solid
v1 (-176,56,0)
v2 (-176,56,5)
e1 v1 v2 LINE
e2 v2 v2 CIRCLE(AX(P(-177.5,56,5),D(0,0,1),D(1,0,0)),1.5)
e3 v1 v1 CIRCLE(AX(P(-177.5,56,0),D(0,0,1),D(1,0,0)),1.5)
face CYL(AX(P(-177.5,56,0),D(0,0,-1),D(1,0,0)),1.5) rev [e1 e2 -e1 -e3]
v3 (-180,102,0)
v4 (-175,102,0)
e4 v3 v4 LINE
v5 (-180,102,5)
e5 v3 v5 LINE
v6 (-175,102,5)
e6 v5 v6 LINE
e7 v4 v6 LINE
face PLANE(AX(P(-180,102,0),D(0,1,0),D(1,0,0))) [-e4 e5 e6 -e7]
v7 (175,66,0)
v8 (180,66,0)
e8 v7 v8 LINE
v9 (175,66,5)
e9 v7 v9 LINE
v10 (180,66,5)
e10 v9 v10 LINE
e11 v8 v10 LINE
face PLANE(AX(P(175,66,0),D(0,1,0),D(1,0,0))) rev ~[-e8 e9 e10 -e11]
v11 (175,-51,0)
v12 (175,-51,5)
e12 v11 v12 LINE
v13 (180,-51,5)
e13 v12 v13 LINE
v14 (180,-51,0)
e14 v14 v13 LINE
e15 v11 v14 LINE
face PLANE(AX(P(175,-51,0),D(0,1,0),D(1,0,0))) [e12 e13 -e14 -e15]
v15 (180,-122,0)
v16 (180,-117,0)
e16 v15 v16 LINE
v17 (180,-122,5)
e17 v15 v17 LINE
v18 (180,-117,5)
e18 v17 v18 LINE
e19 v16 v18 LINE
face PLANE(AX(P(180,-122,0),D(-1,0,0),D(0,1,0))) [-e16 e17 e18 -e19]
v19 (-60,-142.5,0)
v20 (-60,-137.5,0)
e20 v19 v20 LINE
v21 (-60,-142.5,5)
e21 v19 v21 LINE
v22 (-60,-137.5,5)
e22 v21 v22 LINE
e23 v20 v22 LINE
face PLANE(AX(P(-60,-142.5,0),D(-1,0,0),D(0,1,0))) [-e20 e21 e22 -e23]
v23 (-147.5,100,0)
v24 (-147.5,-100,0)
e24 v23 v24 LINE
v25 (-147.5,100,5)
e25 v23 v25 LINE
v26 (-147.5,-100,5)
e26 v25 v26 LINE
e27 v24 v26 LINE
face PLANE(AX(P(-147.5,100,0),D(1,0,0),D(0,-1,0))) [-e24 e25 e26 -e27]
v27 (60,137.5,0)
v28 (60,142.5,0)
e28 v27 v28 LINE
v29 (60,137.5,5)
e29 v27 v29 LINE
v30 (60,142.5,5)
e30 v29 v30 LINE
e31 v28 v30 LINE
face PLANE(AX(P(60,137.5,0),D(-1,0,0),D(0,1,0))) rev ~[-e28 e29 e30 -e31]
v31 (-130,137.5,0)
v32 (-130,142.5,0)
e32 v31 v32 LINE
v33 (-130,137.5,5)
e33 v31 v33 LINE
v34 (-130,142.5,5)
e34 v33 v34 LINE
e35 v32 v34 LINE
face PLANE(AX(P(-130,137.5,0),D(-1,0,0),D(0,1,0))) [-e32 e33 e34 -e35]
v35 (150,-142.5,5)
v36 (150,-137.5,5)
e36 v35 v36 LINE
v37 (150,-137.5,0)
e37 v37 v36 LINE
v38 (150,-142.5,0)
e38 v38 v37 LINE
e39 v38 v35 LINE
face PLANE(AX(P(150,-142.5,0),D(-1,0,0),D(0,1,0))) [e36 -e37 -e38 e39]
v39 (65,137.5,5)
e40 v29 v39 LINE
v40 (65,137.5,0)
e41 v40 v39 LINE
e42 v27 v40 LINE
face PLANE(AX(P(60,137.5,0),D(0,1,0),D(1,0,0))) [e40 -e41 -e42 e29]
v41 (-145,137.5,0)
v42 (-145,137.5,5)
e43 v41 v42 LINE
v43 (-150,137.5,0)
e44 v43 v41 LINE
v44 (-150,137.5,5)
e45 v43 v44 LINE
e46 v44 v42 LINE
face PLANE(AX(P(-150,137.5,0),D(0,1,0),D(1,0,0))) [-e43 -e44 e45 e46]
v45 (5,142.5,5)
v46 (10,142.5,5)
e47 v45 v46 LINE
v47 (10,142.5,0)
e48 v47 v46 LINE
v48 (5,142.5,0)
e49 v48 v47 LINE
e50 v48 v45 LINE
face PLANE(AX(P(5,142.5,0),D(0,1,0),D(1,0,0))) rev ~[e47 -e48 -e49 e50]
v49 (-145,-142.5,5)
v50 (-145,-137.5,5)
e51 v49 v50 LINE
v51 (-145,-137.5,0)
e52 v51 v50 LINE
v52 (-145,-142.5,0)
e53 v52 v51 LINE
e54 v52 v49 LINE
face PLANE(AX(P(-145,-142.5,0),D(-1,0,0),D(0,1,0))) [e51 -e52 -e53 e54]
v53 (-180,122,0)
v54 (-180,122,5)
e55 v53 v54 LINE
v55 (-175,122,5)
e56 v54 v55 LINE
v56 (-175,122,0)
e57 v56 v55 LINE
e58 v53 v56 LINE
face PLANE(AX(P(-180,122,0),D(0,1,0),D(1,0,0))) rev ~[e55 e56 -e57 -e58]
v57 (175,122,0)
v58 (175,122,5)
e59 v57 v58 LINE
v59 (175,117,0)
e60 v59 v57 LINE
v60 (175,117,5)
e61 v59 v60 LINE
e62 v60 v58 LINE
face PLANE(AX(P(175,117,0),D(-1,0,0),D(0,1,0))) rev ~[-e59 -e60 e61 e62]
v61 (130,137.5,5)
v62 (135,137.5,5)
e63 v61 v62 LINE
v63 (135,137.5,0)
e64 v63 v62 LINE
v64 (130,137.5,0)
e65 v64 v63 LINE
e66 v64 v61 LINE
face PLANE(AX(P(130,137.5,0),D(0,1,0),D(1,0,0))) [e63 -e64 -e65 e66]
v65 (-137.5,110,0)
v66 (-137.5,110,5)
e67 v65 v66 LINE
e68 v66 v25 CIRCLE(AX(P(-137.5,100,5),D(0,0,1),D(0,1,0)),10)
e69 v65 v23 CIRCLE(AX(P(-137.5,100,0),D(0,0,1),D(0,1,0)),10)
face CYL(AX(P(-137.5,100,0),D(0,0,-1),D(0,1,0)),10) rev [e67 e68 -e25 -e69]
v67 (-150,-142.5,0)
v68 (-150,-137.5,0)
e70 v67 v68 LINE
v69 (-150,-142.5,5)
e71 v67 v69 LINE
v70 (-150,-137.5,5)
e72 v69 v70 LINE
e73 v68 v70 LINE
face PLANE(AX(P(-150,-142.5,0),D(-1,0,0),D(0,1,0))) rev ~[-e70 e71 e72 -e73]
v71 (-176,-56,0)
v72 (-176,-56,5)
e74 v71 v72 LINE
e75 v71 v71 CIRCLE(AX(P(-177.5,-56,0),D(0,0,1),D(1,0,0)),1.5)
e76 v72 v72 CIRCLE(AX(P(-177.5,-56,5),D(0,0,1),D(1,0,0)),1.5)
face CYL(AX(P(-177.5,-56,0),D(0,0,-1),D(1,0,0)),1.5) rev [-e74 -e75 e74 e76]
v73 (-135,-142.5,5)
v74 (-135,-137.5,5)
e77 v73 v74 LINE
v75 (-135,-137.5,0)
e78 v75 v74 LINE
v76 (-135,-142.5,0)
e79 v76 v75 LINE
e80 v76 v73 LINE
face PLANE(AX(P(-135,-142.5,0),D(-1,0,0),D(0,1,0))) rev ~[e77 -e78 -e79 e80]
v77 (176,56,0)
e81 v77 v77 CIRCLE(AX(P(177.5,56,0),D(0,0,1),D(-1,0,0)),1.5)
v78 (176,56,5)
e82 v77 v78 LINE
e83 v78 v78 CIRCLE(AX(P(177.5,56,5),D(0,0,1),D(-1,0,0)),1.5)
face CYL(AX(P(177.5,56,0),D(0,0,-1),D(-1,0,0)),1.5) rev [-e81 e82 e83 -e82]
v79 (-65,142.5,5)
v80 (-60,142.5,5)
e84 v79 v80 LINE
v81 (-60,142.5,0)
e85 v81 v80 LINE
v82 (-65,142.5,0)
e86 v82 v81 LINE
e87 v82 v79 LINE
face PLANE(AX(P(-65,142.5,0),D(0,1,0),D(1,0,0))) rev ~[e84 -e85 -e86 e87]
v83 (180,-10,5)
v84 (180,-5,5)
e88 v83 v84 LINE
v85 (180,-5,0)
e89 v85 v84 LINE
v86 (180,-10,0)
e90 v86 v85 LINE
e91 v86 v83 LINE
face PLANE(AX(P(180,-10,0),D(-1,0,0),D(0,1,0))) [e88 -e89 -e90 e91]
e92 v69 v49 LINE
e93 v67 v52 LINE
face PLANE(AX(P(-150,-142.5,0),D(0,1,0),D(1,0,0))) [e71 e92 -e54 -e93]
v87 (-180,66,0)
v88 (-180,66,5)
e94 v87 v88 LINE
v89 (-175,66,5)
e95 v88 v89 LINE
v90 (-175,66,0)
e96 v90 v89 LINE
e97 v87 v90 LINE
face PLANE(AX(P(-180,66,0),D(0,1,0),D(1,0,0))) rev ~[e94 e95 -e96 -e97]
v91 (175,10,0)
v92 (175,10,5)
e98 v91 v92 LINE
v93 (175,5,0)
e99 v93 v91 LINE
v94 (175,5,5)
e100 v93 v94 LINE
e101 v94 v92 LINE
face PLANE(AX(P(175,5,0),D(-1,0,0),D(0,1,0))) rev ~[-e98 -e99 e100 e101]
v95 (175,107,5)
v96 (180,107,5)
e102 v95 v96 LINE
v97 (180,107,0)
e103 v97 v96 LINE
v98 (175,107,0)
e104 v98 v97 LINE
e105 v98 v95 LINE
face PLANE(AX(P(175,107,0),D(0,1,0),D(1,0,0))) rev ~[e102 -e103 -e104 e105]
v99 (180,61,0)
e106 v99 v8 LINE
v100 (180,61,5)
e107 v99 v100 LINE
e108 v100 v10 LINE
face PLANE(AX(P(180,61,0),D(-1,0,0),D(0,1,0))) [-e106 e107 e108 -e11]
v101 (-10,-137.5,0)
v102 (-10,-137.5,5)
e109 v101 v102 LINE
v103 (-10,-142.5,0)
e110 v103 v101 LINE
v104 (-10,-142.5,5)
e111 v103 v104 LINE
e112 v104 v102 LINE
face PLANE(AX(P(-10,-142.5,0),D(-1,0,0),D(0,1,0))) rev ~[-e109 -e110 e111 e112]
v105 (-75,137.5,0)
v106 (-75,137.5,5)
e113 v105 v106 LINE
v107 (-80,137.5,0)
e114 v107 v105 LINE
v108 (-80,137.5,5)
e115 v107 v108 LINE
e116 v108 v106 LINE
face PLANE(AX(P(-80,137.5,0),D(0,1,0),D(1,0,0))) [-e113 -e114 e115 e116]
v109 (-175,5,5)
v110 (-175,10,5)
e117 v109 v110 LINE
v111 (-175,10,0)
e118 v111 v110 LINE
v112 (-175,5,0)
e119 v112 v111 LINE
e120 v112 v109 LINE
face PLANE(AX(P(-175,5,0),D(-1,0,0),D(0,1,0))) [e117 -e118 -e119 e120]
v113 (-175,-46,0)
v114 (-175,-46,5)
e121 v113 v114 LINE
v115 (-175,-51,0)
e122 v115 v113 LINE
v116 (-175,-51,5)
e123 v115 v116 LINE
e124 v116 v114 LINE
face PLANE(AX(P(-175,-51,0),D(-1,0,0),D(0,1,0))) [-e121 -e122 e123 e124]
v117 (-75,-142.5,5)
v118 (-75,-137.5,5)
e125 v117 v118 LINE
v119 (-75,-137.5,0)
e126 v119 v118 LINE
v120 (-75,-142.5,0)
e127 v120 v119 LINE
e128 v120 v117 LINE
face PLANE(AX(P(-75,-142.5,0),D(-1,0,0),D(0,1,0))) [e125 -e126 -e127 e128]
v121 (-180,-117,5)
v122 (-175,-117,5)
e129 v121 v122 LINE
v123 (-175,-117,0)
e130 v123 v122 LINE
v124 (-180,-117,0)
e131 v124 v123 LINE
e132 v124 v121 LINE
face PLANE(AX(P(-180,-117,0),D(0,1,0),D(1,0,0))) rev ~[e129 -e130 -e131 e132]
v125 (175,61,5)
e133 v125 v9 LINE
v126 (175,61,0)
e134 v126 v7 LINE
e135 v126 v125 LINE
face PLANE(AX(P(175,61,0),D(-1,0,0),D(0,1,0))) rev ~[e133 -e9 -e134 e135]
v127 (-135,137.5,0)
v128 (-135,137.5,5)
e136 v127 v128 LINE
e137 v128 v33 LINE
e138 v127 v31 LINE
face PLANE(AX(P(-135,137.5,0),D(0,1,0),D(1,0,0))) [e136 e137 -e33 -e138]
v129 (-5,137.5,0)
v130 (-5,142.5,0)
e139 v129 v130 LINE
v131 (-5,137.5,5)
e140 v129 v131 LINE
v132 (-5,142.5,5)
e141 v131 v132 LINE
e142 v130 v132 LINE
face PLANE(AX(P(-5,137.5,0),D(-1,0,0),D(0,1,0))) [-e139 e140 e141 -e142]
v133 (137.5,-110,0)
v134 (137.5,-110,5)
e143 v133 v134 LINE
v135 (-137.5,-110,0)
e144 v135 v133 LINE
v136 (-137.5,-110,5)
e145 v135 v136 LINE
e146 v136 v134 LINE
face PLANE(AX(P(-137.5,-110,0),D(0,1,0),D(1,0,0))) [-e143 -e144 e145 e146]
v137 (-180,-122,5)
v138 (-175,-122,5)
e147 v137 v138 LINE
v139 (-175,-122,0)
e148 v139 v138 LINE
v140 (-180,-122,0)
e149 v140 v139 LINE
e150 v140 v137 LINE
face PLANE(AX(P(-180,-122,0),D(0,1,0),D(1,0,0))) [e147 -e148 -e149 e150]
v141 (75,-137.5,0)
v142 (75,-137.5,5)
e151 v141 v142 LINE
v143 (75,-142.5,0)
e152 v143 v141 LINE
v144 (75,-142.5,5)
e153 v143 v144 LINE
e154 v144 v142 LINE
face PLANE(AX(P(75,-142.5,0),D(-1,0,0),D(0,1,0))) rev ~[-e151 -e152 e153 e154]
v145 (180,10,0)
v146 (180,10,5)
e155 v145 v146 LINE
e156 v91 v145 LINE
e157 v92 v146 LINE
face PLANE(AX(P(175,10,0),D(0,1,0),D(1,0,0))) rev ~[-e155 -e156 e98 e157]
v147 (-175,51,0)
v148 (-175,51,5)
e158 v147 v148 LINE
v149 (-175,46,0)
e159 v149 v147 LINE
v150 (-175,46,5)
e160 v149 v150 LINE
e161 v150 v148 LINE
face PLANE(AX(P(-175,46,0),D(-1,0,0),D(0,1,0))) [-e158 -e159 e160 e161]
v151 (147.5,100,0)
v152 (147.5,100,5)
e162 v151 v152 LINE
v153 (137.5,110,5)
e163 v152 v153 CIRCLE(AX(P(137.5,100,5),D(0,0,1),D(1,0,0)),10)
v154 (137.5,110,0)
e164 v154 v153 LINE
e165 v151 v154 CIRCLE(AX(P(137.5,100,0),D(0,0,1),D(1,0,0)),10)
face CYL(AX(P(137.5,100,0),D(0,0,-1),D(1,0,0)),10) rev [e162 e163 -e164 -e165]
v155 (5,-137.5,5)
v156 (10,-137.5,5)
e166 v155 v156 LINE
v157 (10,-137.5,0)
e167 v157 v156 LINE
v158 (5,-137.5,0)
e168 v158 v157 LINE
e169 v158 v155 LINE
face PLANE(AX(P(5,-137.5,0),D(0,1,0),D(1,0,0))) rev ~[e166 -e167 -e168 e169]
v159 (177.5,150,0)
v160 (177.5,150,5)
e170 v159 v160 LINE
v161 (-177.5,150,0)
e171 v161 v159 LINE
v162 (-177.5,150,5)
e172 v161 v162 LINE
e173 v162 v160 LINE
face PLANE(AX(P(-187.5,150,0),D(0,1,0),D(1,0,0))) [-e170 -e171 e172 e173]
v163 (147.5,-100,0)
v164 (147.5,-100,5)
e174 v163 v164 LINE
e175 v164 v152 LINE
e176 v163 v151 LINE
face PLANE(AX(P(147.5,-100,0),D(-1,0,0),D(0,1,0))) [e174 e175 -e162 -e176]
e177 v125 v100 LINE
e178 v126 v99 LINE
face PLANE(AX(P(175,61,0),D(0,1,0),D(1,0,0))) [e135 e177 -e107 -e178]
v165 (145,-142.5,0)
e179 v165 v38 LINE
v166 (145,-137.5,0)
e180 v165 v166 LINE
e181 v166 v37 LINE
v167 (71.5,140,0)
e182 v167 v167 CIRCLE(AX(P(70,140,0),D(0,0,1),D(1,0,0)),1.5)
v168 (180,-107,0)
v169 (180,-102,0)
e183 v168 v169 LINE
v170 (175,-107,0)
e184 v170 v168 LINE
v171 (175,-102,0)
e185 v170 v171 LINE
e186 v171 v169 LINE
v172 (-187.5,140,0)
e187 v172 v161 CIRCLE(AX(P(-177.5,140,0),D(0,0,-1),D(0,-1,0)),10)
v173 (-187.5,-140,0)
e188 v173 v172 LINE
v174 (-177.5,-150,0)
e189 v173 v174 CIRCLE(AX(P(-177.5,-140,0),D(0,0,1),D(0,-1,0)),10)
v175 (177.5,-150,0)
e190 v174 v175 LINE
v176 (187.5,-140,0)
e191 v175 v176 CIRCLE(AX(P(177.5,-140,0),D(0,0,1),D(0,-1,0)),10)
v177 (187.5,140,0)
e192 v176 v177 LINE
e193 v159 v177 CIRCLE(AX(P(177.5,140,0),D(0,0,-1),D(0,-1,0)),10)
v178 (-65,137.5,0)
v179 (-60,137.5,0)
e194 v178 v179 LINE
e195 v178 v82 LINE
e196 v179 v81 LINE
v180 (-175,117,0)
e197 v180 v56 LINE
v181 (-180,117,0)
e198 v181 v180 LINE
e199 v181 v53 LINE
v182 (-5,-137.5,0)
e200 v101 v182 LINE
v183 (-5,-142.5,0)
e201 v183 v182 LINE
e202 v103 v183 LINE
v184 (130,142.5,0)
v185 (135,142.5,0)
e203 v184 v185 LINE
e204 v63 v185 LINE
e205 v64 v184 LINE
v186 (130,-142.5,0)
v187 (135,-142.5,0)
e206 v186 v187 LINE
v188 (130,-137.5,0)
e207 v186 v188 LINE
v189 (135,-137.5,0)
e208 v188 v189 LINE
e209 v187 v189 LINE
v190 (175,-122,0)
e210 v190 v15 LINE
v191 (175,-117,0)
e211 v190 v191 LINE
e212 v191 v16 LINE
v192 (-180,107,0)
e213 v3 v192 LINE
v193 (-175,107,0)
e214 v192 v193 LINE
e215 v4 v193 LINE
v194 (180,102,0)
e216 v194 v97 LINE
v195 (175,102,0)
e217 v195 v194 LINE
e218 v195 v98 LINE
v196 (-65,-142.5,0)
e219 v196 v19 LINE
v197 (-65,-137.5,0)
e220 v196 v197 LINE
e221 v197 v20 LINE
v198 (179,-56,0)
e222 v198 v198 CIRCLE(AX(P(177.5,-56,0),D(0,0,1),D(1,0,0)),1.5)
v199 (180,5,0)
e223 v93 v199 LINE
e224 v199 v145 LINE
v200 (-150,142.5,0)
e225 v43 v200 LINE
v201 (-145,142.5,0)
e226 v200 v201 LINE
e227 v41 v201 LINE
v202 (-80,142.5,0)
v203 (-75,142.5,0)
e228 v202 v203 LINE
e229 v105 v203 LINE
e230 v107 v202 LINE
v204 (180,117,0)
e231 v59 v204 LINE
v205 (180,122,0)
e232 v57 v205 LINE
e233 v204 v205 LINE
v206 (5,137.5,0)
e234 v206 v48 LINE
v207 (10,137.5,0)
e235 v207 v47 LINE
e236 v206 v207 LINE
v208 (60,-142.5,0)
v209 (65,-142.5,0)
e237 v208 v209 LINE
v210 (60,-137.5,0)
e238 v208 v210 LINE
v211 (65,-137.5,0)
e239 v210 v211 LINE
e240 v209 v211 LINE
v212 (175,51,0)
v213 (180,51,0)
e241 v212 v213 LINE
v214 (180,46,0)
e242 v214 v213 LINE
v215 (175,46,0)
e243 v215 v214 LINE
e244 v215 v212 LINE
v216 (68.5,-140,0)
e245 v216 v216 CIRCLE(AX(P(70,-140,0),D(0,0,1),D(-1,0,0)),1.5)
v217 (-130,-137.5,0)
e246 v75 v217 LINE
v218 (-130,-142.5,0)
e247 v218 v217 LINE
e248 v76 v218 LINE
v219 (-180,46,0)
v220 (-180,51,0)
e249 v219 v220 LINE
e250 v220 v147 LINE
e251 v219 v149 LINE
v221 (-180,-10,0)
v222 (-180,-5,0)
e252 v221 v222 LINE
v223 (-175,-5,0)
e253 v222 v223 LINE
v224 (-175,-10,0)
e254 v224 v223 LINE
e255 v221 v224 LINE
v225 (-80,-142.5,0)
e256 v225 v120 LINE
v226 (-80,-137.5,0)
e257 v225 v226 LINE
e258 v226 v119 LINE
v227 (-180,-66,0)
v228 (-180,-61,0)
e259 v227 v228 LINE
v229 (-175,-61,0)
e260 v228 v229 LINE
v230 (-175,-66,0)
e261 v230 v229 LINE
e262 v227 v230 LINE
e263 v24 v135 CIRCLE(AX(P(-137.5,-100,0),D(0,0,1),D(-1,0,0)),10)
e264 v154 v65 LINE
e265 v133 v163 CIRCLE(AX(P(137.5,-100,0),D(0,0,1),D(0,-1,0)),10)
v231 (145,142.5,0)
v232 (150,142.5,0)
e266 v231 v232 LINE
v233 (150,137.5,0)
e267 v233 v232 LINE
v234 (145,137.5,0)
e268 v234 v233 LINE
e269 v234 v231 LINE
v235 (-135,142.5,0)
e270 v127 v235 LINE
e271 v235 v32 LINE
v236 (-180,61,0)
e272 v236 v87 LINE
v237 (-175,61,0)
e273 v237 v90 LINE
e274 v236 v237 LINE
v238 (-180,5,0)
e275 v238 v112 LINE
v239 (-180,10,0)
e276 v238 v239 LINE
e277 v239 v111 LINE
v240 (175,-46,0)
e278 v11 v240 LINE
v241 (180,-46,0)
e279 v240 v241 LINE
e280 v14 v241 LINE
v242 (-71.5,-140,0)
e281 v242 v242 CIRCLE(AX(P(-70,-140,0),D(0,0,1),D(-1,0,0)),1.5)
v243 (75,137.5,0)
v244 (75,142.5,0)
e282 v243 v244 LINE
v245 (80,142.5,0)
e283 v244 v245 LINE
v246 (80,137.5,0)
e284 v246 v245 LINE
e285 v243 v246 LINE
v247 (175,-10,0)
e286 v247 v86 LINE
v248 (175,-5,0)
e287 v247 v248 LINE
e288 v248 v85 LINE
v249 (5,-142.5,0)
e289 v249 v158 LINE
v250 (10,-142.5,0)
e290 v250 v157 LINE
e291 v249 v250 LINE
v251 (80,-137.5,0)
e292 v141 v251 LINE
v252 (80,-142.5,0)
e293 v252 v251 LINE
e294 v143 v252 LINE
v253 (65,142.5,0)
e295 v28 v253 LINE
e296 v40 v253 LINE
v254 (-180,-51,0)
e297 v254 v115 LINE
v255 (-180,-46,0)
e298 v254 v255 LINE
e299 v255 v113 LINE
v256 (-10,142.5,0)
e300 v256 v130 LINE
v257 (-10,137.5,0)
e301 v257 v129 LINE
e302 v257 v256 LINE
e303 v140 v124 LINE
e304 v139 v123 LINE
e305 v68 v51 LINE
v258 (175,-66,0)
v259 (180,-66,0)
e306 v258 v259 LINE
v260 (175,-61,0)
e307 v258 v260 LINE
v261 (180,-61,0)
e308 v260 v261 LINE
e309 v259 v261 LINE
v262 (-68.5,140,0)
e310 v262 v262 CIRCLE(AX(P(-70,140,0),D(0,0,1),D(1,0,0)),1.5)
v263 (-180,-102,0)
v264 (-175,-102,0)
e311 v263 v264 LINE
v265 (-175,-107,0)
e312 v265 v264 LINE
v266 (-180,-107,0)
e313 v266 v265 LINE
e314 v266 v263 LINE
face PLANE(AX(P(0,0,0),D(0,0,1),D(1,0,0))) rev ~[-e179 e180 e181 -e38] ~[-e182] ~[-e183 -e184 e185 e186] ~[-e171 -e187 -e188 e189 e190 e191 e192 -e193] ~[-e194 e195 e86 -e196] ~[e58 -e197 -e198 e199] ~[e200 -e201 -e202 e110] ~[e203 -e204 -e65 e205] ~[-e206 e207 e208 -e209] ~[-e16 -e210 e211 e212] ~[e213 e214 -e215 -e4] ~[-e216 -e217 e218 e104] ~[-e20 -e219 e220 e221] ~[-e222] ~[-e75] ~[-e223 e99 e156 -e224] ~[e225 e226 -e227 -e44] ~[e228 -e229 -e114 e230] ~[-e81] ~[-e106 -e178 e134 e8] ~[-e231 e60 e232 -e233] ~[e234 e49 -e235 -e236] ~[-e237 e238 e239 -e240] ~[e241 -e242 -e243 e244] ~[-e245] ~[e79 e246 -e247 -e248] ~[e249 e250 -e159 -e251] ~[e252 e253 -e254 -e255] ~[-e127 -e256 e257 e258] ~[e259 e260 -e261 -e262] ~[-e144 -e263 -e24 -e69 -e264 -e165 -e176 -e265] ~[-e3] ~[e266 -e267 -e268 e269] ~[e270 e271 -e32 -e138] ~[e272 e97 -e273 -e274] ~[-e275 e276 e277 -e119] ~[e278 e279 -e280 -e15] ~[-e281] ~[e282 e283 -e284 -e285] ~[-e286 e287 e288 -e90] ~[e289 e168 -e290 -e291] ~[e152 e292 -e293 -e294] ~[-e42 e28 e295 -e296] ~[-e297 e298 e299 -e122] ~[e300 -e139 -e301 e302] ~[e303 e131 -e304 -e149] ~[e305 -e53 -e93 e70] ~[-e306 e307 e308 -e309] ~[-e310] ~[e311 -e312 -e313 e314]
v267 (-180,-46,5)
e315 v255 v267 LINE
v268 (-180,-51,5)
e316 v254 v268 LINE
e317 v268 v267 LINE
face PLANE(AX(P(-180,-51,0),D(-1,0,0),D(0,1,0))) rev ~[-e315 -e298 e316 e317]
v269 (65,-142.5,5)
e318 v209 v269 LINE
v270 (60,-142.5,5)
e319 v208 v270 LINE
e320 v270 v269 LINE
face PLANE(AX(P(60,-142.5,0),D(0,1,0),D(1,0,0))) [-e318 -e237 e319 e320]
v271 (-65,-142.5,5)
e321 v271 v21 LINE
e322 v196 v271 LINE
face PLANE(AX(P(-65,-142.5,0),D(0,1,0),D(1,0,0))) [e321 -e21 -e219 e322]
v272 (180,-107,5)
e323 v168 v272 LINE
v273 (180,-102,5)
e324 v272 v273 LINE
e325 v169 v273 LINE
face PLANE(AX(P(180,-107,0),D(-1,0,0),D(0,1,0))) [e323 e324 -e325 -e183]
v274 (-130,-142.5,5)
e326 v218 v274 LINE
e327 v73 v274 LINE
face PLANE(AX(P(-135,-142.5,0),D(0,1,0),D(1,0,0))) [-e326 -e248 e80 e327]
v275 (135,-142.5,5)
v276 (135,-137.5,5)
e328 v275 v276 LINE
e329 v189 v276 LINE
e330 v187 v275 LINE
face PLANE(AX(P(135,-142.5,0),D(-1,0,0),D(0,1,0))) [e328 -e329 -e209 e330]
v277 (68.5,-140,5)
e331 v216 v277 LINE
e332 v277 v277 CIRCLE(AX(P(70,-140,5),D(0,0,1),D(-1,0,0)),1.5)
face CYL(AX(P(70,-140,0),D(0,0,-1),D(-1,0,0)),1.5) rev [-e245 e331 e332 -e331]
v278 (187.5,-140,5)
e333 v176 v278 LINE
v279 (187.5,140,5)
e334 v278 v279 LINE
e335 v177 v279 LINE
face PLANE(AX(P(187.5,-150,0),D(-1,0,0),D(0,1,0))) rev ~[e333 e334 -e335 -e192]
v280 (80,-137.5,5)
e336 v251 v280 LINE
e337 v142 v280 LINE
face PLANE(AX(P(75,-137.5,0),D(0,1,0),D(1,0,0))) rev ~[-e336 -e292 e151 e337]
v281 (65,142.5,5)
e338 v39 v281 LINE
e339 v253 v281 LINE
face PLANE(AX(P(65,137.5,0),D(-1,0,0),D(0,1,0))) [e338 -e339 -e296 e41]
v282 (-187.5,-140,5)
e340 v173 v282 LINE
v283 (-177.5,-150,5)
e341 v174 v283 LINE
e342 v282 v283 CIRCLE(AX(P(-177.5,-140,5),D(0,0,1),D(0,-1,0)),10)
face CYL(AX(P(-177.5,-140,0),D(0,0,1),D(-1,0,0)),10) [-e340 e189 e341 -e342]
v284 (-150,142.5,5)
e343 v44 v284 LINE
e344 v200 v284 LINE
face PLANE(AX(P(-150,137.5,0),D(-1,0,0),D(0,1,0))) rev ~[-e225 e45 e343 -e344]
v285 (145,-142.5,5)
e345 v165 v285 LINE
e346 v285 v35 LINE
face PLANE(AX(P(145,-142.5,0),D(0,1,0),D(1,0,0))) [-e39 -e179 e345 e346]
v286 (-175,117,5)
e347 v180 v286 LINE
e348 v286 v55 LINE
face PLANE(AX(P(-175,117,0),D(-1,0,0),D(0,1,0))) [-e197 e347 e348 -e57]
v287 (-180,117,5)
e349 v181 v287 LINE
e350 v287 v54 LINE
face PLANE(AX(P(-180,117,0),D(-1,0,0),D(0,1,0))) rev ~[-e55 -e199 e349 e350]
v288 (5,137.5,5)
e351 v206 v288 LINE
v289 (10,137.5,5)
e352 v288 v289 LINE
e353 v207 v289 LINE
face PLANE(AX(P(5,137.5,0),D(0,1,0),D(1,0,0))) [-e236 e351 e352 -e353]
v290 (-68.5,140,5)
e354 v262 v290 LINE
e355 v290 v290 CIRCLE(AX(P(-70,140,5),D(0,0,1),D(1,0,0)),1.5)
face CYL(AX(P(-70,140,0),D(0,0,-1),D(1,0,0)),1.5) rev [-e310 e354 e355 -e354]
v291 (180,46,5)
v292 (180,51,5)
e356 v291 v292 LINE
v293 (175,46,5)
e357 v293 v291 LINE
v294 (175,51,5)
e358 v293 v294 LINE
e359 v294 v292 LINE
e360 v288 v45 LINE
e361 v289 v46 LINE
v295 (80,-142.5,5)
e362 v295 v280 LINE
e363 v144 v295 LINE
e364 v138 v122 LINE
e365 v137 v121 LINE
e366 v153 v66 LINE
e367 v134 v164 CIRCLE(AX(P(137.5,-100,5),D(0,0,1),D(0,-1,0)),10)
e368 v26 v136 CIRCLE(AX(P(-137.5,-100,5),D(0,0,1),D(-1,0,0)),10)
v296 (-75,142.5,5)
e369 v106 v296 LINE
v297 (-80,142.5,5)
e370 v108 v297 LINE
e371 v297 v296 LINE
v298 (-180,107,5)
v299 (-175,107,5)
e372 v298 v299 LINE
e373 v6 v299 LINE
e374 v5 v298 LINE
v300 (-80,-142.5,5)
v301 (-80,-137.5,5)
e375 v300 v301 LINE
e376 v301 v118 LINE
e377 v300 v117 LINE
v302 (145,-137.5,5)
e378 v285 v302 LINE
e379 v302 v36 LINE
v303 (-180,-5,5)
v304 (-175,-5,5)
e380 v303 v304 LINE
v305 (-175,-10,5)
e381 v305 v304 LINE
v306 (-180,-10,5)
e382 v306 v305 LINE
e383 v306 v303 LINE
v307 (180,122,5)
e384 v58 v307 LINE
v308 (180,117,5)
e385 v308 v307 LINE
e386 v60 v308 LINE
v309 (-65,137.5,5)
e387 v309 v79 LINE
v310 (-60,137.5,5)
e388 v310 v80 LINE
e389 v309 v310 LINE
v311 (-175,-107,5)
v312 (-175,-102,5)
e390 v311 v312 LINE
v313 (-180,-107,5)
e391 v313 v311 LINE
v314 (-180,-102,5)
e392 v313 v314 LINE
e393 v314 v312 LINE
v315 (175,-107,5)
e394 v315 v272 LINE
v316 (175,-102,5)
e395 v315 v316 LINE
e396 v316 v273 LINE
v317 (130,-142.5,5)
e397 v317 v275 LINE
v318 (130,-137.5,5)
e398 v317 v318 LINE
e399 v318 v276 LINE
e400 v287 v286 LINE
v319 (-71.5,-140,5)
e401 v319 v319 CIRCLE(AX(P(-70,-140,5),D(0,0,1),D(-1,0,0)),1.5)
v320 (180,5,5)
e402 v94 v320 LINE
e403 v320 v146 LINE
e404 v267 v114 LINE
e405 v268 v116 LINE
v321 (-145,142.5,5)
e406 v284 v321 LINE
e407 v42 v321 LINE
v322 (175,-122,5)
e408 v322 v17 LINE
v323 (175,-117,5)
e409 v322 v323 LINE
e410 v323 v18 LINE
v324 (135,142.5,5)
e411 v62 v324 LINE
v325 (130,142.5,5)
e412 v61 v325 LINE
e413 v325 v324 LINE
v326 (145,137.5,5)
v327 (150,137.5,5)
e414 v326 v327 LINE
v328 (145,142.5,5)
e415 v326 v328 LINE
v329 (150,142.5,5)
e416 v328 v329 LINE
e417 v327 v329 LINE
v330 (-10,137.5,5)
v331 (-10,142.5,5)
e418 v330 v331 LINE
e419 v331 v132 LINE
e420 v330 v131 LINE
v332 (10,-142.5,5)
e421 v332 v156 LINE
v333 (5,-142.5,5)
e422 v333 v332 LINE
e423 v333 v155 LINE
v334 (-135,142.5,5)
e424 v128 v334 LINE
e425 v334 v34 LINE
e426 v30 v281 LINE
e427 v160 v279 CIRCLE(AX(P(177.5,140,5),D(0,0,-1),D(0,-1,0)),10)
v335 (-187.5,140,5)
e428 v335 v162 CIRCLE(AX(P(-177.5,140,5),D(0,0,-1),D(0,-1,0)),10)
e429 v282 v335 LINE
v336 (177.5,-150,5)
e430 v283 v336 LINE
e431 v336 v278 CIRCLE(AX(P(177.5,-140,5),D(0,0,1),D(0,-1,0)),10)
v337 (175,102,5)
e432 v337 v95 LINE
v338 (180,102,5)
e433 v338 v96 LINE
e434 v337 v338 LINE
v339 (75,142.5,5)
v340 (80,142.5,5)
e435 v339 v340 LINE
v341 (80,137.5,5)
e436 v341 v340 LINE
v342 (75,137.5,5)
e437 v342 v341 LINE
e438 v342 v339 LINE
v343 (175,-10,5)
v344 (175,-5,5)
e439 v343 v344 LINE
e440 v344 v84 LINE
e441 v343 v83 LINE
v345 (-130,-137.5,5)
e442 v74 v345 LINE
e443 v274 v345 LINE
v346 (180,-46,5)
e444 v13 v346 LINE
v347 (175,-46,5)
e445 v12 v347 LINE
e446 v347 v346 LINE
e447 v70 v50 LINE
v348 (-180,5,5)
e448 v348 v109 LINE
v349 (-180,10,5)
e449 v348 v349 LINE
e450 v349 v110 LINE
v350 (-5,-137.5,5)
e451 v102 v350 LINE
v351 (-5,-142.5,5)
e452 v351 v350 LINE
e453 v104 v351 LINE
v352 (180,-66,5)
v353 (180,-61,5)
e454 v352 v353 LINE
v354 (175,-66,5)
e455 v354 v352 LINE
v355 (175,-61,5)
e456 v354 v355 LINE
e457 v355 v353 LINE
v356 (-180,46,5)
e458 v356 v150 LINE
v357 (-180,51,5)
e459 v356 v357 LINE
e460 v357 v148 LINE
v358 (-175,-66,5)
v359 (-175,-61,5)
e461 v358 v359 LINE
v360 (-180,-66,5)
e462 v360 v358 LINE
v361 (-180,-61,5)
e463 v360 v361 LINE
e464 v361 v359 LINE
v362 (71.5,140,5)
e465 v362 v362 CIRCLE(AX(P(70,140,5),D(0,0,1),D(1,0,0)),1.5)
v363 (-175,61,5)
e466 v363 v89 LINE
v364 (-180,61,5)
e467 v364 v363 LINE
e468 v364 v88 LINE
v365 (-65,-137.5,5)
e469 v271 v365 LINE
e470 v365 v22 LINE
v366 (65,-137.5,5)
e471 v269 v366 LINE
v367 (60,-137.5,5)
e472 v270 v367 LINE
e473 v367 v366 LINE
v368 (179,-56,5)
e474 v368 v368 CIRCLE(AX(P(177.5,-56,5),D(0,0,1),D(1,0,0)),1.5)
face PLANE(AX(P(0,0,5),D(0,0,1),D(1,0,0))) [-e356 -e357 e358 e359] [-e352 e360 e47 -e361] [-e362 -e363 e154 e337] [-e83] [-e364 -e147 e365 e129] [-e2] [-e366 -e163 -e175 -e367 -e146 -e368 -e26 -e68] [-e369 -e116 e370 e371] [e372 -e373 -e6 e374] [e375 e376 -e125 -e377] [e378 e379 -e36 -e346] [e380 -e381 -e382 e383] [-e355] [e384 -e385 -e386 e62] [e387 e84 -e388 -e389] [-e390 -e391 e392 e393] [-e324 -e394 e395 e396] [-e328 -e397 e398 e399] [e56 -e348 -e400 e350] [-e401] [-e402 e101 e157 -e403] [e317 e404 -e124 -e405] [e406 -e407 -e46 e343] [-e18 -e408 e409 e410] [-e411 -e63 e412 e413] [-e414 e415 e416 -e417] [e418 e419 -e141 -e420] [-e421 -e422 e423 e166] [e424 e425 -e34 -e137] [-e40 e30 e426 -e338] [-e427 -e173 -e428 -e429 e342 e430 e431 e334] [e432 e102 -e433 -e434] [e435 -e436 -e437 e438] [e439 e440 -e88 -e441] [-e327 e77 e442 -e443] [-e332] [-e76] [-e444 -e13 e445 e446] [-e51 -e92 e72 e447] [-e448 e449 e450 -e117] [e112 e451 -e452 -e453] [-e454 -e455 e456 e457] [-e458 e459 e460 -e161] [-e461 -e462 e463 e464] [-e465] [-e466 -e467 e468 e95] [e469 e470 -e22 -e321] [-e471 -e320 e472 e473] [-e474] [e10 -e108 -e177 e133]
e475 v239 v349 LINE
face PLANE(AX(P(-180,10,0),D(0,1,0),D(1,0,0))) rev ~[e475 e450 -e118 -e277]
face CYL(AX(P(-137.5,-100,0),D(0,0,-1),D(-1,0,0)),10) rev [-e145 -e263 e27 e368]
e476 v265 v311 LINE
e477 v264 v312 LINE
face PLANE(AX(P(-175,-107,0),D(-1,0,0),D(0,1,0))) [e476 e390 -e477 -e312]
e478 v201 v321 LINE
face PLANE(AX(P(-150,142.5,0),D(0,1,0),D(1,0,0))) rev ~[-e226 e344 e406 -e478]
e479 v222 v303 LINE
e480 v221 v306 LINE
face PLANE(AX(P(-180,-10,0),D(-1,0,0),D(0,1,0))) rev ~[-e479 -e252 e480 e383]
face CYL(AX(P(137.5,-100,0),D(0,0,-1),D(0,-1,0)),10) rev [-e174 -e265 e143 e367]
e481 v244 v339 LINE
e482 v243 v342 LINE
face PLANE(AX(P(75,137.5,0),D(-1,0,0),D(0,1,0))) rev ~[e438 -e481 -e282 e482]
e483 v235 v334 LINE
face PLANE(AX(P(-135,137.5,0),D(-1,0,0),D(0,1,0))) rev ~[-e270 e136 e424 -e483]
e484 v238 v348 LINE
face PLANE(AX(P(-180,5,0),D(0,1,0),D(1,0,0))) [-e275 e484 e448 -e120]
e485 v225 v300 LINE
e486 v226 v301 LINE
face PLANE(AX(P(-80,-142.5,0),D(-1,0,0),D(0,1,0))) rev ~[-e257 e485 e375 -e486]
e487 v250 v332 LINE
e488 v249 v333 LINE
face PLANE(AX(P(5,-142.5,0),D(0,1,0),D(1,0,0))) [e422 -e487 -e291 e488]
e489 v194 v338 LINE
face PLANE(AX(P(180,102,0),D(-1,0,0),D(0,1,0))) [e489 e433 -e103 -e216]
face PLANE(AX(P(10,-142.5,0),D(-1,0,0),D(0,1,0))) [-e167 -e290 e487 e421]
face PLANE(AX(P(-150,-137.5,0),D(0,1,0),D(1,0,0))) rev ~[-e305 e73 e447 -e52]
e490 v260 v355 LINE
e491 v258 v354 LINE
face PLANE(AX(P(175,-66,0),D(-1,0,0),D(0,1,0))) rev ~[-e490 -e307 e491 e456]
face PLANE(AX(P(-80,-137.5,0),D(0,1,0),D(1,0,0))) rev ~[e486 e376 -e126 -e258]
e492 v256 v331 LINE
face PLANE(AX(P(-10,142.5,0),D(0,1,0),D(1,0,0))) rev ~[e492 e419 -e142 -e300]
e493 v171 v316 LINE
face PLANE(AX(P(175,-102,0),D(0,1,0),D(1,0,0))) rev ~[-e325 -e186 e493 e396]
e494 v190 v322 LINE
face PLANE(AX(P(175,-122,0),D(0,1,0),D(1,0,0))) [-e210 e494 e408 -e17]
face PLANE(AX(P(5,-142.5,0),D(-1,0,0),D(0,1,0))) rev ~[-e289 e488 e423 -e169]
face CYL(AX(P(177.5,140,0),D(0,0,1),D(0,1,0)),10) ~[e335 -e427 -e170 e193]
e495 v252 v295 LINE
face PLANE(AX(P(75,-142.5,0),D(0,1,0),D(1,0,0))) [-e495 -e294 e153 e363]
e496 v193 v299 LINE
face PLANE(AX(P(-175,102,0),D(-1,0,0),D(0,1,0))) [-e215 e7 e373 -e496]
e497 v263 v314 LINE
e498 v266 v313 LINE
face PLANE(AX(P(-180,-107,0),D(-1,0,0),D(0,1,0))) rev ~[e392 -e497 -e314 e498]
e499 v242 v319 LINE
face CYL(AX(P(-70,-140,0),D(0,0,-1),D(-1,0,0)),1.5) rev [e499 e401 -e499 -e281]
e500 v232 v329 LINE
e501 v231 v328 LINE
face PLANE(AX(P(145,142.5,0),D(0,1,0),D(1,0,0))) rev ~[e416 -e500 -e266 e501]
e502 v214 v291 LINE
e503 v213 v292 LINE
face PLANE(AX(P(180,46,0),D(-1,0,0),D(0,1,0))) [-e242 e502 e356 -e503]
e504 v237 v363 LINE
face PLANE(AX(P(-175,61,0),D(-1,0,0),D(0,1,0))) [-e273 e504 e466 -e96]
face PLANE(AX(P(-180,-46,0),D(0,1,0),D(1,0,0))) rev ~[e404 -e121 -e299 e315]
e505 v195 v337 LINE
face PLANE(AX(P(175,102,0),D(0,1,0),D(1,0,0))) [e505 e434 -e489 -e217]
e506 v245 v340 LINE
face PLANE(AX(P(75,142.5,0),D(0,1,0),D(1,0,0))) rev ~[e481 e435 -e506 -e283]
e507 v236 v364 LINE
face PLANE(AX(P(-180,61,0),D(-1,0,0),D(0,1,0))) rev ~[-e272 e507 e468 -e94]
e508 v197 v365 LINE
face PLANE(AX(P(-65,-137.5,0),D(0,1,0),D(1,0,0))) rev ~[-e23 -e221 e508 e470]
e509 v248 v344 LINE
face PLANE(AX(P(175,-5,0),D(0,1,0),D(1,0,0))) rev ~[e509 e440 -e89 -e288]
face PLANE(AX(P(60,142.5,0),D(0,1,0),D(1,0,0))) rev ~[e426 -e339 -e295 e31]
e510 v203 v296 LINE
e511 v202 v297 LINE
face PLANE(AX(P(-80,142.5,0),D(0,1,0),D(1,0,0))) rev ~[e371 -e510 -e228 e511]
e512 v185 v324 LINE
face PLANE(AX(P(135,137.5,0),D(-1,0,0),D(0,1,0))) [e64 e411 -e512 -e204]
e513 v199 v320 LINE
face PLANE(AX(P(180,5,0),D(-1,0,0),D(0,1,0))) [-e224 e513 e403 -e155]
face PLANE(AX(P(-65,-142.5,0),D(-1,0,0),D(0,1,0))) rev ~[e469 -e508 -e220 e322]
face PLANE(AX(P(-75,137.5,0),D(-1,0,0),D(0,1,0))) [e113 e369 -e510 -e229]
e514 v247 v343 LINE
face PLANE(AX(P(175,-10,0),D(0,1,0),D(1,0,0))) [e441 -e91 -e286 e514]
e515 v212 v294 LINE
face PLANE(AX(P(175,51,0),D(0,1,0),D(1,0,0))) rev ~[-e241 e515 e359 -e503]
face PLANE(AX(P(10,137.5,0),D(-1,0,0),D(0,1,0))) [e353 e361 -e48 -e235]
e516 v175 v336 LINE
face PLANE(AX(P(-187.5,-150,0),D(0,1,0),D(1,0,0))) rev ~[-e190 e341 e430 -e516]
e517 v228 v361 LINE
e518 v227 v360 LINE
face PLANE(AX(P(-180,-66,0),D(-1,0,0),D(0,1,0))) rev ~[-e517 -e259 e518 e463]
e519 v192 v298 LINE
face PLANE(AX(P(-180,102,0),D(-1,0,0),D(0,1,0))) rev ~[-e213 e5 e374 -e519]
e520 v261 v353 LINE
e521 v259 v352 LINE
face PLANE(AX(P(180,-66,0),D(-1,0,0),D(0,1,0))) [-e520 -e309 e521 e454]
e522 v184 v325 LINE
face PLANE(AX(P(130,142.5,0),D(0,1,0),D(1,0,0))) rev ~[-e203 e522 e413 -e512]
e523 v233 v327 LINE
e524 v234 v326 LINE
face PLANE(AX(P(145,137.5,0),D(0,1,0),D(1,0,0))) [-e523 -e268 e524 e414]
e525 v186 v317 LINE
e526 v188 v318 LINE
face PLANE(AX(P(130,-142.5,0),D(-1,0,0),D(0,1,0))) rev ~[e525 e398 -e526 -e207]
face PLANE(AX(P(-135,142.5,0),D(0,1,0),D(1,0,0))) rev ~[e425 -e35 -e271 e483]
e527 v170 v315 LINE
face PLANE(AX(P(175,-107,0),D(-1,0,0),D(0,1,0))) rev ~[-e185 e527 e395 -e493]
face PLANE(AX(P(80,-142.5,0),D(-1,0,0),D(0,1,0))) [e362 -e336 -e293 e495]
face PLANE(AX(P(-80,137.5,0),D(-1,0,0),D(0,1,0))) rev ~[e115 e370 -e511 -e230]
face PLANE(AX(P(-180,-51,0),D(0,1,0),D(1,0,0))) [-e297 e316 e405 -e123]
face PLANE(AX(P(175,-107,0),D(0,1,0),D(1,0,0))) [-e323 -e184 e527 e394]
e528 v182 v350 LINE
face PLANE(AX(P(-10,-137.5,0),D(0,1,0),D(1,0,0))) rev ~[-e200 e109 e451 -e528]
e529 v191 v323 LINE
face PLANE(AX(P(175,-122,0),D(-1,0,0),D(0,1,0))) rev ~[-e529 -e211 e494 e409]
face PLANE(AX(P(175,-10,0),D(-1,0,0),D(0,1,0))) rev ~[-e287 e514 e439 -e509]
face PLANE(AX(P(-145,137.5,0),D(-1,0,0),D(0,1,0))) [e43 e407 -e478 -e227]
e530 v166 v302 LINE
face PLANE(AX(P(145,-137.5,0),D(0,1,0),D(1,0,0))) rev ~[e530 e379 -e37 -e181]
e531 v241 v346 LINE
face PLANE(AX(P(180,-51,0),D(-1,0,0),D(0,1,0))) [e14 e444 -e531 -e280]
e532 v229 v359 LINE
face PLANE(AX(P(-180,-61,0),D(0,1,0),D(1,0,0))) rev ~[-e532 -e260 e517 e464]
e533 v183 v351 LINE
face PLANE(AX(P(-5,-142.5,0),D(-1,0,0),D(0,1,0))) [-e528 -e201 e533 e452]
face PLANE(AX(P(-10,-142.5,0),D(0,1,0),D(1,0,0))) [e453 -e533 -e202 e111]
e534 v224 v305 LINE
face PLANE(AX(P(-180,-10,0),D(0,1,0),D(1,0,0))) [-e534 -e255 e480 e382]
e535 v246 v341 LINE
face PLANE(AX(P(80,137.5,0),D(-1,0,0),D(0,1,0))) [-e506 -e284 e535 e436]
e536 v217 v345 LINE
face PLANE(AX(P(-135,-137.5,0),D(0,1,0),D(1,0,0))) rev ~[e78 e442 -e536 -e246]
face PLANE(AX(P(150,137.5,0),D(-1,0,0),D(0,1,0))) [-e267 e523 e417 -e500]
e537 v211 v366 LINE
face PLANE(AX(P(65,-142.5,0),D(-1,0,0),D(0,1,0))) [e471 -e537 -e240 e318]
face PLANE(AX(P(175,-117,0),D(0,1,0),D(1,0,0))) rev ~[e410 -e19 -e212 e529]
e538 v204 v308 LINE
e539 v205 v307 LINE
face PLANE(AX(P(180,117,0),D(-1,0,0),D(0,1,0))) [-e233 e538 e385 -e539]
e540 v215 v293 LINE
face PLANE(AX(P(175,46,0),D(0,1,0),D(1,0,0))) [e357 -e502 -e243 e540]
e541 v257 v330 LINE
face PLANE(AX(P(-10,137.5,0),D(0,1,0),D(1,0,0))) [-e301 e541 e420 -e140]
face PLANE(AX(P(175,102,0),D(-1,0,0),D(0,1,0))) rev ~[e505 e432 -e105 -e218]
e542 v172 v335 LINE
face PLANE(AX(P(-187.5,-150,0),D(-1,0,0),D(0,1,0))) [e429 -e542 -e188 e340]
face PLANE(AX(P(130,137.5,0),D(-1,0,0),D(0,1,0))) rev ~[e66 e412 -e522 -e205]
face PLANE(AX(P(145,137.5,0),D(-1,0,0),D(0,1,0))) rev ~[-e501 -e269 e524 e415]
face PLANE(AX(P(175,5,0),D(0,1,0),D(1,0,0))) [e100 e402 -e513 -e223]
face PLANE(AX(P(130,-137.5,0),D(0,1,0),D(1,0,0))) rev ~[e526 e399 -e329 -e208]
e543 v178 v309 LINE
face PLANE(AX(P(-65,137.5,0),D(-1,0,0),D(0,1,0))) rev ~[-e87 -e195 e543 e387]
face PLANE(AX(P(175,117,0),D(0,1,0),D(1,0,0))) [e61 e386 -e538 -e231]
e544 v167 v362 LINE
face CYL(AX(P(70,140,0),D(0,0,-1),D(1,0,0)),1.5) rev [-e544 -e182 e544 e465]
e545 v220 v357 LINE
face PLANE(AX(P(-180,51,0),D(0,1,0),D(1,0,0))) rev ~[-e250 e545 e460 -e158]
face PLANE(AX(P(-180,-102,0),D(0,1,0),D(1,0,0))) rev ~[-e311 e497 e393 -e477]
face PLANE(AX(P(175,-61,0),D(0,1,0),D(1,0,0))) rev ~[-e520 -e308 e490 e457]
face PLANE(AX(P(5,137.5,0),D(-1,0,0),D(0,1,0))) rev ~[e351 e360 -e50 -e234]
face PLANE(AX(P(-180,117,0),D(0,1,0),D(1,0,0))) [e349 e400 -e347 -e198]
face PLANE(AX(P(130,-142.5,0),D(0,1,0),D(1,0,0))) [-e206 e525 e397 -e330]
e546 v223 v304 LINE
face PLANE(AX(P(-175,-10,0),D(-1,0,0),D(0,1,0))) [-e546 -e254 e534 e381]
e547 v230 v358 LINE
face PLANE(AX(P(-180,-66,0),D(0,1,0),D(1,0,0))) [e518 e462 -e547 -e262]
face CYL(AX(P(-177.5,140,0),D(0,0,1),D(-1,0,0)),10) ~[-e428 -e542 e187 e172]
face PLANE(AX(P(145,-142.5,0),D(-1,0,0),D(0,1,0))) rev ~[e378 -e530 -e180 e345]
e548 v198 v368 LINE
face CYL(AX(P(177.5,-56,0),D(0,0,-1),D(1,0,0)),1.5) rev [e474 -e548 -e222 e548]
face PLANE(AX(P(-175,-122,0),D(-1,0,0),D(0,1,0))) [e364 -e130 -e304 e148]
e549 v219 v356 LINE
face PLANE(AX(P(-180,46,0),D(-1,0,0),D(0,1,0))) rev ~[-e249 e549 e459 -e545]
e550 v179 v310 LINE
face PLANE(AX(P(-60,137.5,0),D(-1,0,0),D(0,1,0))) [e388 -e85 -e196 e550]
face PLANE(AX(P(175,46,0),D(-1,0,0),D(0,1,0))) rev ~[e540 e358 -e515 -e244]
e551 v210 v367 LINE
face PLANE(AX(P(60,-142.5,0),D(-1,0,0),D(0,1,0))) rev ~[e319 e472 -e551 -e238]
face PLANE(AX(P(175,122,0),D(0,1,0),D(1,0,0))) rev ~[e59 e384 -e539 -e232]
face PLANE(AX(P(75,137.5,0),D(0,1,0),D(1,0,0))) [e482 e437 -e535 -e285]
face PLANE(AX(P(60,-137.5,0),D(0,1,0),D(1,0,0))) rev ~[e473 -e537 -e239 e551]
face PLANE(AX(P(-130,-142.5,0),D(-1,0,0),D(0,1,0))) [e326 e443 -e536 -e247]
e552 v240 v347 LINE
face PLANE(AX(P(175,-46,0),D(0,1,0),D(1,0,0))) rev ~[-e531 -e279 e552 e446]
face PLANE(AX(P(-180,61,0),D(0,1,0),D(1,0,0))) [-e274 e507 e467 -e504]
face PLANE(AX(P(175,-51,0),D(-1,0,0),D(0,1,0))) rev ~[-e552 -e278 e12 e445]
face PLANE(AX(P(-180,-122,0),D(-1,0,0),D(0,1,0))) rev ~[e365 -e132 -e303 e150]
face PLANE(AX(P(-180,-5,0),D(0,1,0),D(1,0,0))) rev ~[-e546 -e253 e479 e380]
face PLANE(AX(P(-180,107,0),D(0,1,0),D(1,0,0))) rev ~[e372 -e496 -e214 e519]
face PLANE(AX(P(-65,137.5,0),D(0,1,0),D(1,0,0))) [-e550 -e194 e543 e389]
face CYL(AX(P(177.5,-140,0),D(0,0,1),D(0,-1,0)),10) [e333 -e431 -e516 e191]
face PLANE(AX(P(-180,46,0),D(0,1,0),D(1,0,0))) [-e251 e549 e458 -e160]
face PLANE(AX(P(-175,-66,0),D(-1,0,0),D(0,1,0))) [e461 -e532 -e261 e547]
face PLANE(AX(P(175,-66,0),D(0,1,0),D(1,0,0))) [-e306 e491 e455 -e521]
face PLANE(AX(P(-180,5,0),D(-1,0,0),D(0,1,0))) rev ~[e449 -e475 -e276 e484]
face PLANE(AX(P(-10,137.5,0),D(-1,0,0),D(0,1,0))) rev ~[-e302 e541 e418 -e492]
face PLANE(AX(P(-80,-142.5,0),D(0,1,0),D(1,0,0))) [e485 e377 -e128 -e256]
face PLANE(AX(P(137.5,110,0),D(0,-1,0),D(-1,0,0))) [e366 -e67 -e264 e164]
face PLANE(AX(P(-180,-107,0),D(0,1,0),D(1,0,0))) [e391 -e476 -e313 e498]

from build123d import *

# Parameters (mm, degrees)
SKETCH1_W           = 375
SKETCH1_H           = 300
SKETCH1_R           = 1.5
SKETCH1_W_2         = 5
SKETCH1_H_2         = 5
BOSS_EXTRUDE2_DEPTH = 5
FILLET1_R           = 10


with BuildPart() as part:
    # Sketch1 → Boss-Extrude2 (new body)
    with BuildSketch(Plane.XY):
        Rectangle(SKETCH1_W, SKETCH1_H)
        with Locations((-177.5, 56)):
            Circle(SKETCH1_R, mode=Mode.SUBTRACT)
        with Locations(Location((177.5, 56, 0), (0, 0, 180))):
            Circle(SKETCH1_R, mode=Mode.SUBTRACT)
        with Locations((-70, 140)):
            Circle(SKETCH1_R, mode=Mode.SUBTRACT)
        with Locations((70, 140)):
            Circle(SKETCH1_R, mode=Mode.SUBTRACT)
        with Locations(Location((70, -140, 0), (0, 0, 180))):
            Circle(SKETCH1_R, mode=Mode.SUBTRACT)
        with Locations(Location((-70, -140, 0), (0, 0, 180))):
            Circle(SKETCH1_R, mode=Mode.SUBTRACT)
        with Locations((177.5, -56)):
            Circle(SKETCH1_R, mode=Mode.SUBTRACT)
        with Locations((-177.5, -56)):
            Circle(SKETCH1_R, mode=Mode.SUBTRACT)
        with Locations((-177.5, -7.5)):
            Rectangle(SKETCH1_W_2, SKETCH1_H_2, mode=Mode.SUBTRACT)
        with Locations((-177.5, 7.5)):
            Rectangle(SKETCH1_W_2, SKETCH1_H_2, mode=Mode.SUBTRACT)
        with Locations((177.5, -63.5)):
            Rectangle(SKETCH1_W_2, SKETCH1_H_2, mode=Mode.SUBTRACT)
        with Locations((-177.5, 104.5)):
            Rectangle(SKETCH1_W_2, SKETCH1_H_2, mode=Mode.SUBTRACT)
        with Locations((-177.5, 119.5)):
            Rectangle(SKETCH1_W_2, SKETCH1_H_2, mode=Mode.SUBTRACT)
        with Locations((-177.5, 48.5)):
            Rectangle(SKETCH1_W_2, SKETCH1_H_2, mode=Mode.SUBTRACT)
        with Locations((-177.5, 63.5)):
            Rectangle(SKETCH1_W_2, SKETCH1_H_2, mode=Mode.SUBTRACT)
        with Locations((177.5, -48.5)):
            Rectangle(SKETCH1_W_2, SKETCH1_H_2, mode=Mode.SUBTRACT)
        with Locations((177.5, 63.5)):
            Rectangle(SKETCH1_W_2, SKETCH1_H_2, mode=Mode.SUBTRACT)
        with Locations((177.5, 48.5)):
            Rectangle(SKETCH1_W_2, SKETCH1_H_2, mode=Mode.SUBTRACT)
        with Locations((177.5, 119.5)):
            Rectangle(SKETCH1_W_2, SKETCH1_H_2, mode=Mode.SUBTRACT)
        with Locations((177.5, 104.5)):
            Rectangle(SKETCH1_W_2, SKETCH1_H_2, mode=Mode.SUBTRACT)
        with Locations((177.5, 7.5)):
            Rectangle(SKETCH1_W_2, SKETCH1_H_2, mode=Mode.SUBTRACT)
        with Locations((177.5, -7.5)):
            Rectangle(SKETCH1_W_2, SKETCH1_H_2, mode=Mode.SUBTRACT)
        with Locations((-147.5, 140)):
            Rectangle(SKETCH1_W_2, SKETCH1_H_2, mode=Mode.SUBTRACT)
        with Locations((-132.5, 140)):
            Rectangle(SKETCH1_W_2, SKETCH1_H_2, mode=Mode.SUBTRACT)
        with Locations((-77.5, 140)):
            Rectangle(SKETCH1_W_2, SKETCH1_H_2, mode=Mode.SUBTRACT)
        with Locations((-62.5, 140)):
            Rectangle(SKETCH1_W_2, SKETCH1_H_2, mode=Mode.SUBTRACT)
        with Locations((-7.5, 140)):
            Rectangle(SKETCH1_W_2, SKETCH1_H_2, mode=Mode.SUBTRACT)
        with Locations((7.5, 140)):
            Rectangle(SKETCH1_W_2, SKETCH1_H_2, mode=Mode.SUBTRACT)
        with Locations((62.5, 140)):
            Rectangle(SKETCH1_W_2, SKETCH1_H_2, mode=Mode.SUBTRACT)
        with Locations((77.5, 140)):
            Rectangle(SKETCH1_W_2, SKETCH1_H_2, mode=Mode.SUBTRACT)
        with Locations((132.5, 140)):
            Rectangle(SKETCH1_W_2, SKETCH1_H_2, mode=Mode.SUBTRACT)
        with Locations((147.5, 140)):
            Rectangle(SKETCH1_W_2, SKETCH1_H_2, mode=Mode.SUBTRACT)
        with Locations((147.5, -140)):
            Rectangle(SKETCH1_W_2, SKETCH1_H_2, mode=Mode.SUBTRACT)
        with Locations((132.5, -140)):
            Rectangle(SKETCH1_W_2, SKETCH1_H_2, mode=Mode.SUBTRACT)
        with Locations((77.5, -140)):
            Rectangle(SKETCH1_W_2, SKETCH1_H_2, mode=Mode.SUBTRACT)
        with Locations((62.5, -140)):
            Rectangle(SKETCH1_W_2, SKETCH1_H_2, mode=Mode.SUBTRACT)
        with Locations((7.5, -140)):
            Rectangle(SKETCH1_W_2, SKETCH1_H_2, mode=Mode.SUBTRACT)
        with Locations((-7.5, -140)):
            Rectangle(SKETCH1_W_2, SKETCH1_H_2, mode=Mode.SUBTRACT)
        with Locations((-62.5, -140)):
            Rectangle(SKETCH1_W_2, SKETCH1_H_2, mode=Mode.SUBTRACT)
        with Locations((-77.5, -140)):
            Rectangle(SKETCH1_W_2, SKETCH1_H_2, mode=Mode.SUBTRACT)
        with Locations((-132.5, -140)):
            Rectangle(SKETCH1_W_2, SKETCH1_H_2, mode=Mode.SUBTRACT)
        with Locations((-147.5, -140)):
            Rectangle(SKETCH1_W_2, SKETCH1_H_2, mode=Mode.SUBTRACT)
        with BuildLine():
            Line((-137.5, -110), (137.5, -110))
            ThreePointArc((137.5, -110), (144.571067812, -107.071067812), (147.5, -100))
            Line((147.5, -100), (147.5, 100))
            ThreePointArc((147.5, 100), (144.571067812, 107.071067812), (137.5, 110))
            Line((137.5, 110), (-137.5, 110))
            ThreePointArc((-137.5, 110), (-144.571067812, 107.071067812), (-147.5, 100))
            Line((-147.5, 100), (-147.5, -100))
            ThreePointArc((-147.5, -100), (-144.571067812, -107.071067812), (-137.5, -110))
        make_face(mode=Mode.SUBTRACT)
        with Locations((177.5, -119.5)):
            Rectangle(SKETCH1_W_2, SKETCH1_H_2, mode=Mode.SUBTRACT)
        with Locations((177.5, -104.5)):
            Rectangle(SKETCH1_W_2, SKETCH1_H_2, mode=Mode.SUBTRACT)
        with Locations((-177.5, -119.5)):
            Rectangle(SKETCH1_W_2, SKETCH1_H_2, mode=Mode.SUBTRACT)
        with Locations((-177.5, -104.5)):
            Rectangle(SKETCH1_W_2, SKETCH1_H_2, mode=Mode.SUBTRACT)
        with Locations((-177.5, -63.5)):
            Rectangle(SKETCH1_W_2, SKETCH1_H_2, mode=Mode.SUBTRACT)
        with Locations((-177.5, -48.5)):
            Rectangle(SKETCH1_W_2, SKETCH1_H_2, mode=Mode.SUBTRACT)
    extrude(amount=BOSS_EXTRUDE2_DEPTH)

    # Fillet1
    fillet1_edges = [part.edges().sort_by_distance(p)[0] for p in [
        (187.5, -150, 2.5),
        (-187.5, -150, 2.5),
        (-187.5, 150, 2.5),
        (187.5, 150, 2.5),
    ]]
    fillet(fillet1_edges, radius=FILLET1_R)


solid = part.part
